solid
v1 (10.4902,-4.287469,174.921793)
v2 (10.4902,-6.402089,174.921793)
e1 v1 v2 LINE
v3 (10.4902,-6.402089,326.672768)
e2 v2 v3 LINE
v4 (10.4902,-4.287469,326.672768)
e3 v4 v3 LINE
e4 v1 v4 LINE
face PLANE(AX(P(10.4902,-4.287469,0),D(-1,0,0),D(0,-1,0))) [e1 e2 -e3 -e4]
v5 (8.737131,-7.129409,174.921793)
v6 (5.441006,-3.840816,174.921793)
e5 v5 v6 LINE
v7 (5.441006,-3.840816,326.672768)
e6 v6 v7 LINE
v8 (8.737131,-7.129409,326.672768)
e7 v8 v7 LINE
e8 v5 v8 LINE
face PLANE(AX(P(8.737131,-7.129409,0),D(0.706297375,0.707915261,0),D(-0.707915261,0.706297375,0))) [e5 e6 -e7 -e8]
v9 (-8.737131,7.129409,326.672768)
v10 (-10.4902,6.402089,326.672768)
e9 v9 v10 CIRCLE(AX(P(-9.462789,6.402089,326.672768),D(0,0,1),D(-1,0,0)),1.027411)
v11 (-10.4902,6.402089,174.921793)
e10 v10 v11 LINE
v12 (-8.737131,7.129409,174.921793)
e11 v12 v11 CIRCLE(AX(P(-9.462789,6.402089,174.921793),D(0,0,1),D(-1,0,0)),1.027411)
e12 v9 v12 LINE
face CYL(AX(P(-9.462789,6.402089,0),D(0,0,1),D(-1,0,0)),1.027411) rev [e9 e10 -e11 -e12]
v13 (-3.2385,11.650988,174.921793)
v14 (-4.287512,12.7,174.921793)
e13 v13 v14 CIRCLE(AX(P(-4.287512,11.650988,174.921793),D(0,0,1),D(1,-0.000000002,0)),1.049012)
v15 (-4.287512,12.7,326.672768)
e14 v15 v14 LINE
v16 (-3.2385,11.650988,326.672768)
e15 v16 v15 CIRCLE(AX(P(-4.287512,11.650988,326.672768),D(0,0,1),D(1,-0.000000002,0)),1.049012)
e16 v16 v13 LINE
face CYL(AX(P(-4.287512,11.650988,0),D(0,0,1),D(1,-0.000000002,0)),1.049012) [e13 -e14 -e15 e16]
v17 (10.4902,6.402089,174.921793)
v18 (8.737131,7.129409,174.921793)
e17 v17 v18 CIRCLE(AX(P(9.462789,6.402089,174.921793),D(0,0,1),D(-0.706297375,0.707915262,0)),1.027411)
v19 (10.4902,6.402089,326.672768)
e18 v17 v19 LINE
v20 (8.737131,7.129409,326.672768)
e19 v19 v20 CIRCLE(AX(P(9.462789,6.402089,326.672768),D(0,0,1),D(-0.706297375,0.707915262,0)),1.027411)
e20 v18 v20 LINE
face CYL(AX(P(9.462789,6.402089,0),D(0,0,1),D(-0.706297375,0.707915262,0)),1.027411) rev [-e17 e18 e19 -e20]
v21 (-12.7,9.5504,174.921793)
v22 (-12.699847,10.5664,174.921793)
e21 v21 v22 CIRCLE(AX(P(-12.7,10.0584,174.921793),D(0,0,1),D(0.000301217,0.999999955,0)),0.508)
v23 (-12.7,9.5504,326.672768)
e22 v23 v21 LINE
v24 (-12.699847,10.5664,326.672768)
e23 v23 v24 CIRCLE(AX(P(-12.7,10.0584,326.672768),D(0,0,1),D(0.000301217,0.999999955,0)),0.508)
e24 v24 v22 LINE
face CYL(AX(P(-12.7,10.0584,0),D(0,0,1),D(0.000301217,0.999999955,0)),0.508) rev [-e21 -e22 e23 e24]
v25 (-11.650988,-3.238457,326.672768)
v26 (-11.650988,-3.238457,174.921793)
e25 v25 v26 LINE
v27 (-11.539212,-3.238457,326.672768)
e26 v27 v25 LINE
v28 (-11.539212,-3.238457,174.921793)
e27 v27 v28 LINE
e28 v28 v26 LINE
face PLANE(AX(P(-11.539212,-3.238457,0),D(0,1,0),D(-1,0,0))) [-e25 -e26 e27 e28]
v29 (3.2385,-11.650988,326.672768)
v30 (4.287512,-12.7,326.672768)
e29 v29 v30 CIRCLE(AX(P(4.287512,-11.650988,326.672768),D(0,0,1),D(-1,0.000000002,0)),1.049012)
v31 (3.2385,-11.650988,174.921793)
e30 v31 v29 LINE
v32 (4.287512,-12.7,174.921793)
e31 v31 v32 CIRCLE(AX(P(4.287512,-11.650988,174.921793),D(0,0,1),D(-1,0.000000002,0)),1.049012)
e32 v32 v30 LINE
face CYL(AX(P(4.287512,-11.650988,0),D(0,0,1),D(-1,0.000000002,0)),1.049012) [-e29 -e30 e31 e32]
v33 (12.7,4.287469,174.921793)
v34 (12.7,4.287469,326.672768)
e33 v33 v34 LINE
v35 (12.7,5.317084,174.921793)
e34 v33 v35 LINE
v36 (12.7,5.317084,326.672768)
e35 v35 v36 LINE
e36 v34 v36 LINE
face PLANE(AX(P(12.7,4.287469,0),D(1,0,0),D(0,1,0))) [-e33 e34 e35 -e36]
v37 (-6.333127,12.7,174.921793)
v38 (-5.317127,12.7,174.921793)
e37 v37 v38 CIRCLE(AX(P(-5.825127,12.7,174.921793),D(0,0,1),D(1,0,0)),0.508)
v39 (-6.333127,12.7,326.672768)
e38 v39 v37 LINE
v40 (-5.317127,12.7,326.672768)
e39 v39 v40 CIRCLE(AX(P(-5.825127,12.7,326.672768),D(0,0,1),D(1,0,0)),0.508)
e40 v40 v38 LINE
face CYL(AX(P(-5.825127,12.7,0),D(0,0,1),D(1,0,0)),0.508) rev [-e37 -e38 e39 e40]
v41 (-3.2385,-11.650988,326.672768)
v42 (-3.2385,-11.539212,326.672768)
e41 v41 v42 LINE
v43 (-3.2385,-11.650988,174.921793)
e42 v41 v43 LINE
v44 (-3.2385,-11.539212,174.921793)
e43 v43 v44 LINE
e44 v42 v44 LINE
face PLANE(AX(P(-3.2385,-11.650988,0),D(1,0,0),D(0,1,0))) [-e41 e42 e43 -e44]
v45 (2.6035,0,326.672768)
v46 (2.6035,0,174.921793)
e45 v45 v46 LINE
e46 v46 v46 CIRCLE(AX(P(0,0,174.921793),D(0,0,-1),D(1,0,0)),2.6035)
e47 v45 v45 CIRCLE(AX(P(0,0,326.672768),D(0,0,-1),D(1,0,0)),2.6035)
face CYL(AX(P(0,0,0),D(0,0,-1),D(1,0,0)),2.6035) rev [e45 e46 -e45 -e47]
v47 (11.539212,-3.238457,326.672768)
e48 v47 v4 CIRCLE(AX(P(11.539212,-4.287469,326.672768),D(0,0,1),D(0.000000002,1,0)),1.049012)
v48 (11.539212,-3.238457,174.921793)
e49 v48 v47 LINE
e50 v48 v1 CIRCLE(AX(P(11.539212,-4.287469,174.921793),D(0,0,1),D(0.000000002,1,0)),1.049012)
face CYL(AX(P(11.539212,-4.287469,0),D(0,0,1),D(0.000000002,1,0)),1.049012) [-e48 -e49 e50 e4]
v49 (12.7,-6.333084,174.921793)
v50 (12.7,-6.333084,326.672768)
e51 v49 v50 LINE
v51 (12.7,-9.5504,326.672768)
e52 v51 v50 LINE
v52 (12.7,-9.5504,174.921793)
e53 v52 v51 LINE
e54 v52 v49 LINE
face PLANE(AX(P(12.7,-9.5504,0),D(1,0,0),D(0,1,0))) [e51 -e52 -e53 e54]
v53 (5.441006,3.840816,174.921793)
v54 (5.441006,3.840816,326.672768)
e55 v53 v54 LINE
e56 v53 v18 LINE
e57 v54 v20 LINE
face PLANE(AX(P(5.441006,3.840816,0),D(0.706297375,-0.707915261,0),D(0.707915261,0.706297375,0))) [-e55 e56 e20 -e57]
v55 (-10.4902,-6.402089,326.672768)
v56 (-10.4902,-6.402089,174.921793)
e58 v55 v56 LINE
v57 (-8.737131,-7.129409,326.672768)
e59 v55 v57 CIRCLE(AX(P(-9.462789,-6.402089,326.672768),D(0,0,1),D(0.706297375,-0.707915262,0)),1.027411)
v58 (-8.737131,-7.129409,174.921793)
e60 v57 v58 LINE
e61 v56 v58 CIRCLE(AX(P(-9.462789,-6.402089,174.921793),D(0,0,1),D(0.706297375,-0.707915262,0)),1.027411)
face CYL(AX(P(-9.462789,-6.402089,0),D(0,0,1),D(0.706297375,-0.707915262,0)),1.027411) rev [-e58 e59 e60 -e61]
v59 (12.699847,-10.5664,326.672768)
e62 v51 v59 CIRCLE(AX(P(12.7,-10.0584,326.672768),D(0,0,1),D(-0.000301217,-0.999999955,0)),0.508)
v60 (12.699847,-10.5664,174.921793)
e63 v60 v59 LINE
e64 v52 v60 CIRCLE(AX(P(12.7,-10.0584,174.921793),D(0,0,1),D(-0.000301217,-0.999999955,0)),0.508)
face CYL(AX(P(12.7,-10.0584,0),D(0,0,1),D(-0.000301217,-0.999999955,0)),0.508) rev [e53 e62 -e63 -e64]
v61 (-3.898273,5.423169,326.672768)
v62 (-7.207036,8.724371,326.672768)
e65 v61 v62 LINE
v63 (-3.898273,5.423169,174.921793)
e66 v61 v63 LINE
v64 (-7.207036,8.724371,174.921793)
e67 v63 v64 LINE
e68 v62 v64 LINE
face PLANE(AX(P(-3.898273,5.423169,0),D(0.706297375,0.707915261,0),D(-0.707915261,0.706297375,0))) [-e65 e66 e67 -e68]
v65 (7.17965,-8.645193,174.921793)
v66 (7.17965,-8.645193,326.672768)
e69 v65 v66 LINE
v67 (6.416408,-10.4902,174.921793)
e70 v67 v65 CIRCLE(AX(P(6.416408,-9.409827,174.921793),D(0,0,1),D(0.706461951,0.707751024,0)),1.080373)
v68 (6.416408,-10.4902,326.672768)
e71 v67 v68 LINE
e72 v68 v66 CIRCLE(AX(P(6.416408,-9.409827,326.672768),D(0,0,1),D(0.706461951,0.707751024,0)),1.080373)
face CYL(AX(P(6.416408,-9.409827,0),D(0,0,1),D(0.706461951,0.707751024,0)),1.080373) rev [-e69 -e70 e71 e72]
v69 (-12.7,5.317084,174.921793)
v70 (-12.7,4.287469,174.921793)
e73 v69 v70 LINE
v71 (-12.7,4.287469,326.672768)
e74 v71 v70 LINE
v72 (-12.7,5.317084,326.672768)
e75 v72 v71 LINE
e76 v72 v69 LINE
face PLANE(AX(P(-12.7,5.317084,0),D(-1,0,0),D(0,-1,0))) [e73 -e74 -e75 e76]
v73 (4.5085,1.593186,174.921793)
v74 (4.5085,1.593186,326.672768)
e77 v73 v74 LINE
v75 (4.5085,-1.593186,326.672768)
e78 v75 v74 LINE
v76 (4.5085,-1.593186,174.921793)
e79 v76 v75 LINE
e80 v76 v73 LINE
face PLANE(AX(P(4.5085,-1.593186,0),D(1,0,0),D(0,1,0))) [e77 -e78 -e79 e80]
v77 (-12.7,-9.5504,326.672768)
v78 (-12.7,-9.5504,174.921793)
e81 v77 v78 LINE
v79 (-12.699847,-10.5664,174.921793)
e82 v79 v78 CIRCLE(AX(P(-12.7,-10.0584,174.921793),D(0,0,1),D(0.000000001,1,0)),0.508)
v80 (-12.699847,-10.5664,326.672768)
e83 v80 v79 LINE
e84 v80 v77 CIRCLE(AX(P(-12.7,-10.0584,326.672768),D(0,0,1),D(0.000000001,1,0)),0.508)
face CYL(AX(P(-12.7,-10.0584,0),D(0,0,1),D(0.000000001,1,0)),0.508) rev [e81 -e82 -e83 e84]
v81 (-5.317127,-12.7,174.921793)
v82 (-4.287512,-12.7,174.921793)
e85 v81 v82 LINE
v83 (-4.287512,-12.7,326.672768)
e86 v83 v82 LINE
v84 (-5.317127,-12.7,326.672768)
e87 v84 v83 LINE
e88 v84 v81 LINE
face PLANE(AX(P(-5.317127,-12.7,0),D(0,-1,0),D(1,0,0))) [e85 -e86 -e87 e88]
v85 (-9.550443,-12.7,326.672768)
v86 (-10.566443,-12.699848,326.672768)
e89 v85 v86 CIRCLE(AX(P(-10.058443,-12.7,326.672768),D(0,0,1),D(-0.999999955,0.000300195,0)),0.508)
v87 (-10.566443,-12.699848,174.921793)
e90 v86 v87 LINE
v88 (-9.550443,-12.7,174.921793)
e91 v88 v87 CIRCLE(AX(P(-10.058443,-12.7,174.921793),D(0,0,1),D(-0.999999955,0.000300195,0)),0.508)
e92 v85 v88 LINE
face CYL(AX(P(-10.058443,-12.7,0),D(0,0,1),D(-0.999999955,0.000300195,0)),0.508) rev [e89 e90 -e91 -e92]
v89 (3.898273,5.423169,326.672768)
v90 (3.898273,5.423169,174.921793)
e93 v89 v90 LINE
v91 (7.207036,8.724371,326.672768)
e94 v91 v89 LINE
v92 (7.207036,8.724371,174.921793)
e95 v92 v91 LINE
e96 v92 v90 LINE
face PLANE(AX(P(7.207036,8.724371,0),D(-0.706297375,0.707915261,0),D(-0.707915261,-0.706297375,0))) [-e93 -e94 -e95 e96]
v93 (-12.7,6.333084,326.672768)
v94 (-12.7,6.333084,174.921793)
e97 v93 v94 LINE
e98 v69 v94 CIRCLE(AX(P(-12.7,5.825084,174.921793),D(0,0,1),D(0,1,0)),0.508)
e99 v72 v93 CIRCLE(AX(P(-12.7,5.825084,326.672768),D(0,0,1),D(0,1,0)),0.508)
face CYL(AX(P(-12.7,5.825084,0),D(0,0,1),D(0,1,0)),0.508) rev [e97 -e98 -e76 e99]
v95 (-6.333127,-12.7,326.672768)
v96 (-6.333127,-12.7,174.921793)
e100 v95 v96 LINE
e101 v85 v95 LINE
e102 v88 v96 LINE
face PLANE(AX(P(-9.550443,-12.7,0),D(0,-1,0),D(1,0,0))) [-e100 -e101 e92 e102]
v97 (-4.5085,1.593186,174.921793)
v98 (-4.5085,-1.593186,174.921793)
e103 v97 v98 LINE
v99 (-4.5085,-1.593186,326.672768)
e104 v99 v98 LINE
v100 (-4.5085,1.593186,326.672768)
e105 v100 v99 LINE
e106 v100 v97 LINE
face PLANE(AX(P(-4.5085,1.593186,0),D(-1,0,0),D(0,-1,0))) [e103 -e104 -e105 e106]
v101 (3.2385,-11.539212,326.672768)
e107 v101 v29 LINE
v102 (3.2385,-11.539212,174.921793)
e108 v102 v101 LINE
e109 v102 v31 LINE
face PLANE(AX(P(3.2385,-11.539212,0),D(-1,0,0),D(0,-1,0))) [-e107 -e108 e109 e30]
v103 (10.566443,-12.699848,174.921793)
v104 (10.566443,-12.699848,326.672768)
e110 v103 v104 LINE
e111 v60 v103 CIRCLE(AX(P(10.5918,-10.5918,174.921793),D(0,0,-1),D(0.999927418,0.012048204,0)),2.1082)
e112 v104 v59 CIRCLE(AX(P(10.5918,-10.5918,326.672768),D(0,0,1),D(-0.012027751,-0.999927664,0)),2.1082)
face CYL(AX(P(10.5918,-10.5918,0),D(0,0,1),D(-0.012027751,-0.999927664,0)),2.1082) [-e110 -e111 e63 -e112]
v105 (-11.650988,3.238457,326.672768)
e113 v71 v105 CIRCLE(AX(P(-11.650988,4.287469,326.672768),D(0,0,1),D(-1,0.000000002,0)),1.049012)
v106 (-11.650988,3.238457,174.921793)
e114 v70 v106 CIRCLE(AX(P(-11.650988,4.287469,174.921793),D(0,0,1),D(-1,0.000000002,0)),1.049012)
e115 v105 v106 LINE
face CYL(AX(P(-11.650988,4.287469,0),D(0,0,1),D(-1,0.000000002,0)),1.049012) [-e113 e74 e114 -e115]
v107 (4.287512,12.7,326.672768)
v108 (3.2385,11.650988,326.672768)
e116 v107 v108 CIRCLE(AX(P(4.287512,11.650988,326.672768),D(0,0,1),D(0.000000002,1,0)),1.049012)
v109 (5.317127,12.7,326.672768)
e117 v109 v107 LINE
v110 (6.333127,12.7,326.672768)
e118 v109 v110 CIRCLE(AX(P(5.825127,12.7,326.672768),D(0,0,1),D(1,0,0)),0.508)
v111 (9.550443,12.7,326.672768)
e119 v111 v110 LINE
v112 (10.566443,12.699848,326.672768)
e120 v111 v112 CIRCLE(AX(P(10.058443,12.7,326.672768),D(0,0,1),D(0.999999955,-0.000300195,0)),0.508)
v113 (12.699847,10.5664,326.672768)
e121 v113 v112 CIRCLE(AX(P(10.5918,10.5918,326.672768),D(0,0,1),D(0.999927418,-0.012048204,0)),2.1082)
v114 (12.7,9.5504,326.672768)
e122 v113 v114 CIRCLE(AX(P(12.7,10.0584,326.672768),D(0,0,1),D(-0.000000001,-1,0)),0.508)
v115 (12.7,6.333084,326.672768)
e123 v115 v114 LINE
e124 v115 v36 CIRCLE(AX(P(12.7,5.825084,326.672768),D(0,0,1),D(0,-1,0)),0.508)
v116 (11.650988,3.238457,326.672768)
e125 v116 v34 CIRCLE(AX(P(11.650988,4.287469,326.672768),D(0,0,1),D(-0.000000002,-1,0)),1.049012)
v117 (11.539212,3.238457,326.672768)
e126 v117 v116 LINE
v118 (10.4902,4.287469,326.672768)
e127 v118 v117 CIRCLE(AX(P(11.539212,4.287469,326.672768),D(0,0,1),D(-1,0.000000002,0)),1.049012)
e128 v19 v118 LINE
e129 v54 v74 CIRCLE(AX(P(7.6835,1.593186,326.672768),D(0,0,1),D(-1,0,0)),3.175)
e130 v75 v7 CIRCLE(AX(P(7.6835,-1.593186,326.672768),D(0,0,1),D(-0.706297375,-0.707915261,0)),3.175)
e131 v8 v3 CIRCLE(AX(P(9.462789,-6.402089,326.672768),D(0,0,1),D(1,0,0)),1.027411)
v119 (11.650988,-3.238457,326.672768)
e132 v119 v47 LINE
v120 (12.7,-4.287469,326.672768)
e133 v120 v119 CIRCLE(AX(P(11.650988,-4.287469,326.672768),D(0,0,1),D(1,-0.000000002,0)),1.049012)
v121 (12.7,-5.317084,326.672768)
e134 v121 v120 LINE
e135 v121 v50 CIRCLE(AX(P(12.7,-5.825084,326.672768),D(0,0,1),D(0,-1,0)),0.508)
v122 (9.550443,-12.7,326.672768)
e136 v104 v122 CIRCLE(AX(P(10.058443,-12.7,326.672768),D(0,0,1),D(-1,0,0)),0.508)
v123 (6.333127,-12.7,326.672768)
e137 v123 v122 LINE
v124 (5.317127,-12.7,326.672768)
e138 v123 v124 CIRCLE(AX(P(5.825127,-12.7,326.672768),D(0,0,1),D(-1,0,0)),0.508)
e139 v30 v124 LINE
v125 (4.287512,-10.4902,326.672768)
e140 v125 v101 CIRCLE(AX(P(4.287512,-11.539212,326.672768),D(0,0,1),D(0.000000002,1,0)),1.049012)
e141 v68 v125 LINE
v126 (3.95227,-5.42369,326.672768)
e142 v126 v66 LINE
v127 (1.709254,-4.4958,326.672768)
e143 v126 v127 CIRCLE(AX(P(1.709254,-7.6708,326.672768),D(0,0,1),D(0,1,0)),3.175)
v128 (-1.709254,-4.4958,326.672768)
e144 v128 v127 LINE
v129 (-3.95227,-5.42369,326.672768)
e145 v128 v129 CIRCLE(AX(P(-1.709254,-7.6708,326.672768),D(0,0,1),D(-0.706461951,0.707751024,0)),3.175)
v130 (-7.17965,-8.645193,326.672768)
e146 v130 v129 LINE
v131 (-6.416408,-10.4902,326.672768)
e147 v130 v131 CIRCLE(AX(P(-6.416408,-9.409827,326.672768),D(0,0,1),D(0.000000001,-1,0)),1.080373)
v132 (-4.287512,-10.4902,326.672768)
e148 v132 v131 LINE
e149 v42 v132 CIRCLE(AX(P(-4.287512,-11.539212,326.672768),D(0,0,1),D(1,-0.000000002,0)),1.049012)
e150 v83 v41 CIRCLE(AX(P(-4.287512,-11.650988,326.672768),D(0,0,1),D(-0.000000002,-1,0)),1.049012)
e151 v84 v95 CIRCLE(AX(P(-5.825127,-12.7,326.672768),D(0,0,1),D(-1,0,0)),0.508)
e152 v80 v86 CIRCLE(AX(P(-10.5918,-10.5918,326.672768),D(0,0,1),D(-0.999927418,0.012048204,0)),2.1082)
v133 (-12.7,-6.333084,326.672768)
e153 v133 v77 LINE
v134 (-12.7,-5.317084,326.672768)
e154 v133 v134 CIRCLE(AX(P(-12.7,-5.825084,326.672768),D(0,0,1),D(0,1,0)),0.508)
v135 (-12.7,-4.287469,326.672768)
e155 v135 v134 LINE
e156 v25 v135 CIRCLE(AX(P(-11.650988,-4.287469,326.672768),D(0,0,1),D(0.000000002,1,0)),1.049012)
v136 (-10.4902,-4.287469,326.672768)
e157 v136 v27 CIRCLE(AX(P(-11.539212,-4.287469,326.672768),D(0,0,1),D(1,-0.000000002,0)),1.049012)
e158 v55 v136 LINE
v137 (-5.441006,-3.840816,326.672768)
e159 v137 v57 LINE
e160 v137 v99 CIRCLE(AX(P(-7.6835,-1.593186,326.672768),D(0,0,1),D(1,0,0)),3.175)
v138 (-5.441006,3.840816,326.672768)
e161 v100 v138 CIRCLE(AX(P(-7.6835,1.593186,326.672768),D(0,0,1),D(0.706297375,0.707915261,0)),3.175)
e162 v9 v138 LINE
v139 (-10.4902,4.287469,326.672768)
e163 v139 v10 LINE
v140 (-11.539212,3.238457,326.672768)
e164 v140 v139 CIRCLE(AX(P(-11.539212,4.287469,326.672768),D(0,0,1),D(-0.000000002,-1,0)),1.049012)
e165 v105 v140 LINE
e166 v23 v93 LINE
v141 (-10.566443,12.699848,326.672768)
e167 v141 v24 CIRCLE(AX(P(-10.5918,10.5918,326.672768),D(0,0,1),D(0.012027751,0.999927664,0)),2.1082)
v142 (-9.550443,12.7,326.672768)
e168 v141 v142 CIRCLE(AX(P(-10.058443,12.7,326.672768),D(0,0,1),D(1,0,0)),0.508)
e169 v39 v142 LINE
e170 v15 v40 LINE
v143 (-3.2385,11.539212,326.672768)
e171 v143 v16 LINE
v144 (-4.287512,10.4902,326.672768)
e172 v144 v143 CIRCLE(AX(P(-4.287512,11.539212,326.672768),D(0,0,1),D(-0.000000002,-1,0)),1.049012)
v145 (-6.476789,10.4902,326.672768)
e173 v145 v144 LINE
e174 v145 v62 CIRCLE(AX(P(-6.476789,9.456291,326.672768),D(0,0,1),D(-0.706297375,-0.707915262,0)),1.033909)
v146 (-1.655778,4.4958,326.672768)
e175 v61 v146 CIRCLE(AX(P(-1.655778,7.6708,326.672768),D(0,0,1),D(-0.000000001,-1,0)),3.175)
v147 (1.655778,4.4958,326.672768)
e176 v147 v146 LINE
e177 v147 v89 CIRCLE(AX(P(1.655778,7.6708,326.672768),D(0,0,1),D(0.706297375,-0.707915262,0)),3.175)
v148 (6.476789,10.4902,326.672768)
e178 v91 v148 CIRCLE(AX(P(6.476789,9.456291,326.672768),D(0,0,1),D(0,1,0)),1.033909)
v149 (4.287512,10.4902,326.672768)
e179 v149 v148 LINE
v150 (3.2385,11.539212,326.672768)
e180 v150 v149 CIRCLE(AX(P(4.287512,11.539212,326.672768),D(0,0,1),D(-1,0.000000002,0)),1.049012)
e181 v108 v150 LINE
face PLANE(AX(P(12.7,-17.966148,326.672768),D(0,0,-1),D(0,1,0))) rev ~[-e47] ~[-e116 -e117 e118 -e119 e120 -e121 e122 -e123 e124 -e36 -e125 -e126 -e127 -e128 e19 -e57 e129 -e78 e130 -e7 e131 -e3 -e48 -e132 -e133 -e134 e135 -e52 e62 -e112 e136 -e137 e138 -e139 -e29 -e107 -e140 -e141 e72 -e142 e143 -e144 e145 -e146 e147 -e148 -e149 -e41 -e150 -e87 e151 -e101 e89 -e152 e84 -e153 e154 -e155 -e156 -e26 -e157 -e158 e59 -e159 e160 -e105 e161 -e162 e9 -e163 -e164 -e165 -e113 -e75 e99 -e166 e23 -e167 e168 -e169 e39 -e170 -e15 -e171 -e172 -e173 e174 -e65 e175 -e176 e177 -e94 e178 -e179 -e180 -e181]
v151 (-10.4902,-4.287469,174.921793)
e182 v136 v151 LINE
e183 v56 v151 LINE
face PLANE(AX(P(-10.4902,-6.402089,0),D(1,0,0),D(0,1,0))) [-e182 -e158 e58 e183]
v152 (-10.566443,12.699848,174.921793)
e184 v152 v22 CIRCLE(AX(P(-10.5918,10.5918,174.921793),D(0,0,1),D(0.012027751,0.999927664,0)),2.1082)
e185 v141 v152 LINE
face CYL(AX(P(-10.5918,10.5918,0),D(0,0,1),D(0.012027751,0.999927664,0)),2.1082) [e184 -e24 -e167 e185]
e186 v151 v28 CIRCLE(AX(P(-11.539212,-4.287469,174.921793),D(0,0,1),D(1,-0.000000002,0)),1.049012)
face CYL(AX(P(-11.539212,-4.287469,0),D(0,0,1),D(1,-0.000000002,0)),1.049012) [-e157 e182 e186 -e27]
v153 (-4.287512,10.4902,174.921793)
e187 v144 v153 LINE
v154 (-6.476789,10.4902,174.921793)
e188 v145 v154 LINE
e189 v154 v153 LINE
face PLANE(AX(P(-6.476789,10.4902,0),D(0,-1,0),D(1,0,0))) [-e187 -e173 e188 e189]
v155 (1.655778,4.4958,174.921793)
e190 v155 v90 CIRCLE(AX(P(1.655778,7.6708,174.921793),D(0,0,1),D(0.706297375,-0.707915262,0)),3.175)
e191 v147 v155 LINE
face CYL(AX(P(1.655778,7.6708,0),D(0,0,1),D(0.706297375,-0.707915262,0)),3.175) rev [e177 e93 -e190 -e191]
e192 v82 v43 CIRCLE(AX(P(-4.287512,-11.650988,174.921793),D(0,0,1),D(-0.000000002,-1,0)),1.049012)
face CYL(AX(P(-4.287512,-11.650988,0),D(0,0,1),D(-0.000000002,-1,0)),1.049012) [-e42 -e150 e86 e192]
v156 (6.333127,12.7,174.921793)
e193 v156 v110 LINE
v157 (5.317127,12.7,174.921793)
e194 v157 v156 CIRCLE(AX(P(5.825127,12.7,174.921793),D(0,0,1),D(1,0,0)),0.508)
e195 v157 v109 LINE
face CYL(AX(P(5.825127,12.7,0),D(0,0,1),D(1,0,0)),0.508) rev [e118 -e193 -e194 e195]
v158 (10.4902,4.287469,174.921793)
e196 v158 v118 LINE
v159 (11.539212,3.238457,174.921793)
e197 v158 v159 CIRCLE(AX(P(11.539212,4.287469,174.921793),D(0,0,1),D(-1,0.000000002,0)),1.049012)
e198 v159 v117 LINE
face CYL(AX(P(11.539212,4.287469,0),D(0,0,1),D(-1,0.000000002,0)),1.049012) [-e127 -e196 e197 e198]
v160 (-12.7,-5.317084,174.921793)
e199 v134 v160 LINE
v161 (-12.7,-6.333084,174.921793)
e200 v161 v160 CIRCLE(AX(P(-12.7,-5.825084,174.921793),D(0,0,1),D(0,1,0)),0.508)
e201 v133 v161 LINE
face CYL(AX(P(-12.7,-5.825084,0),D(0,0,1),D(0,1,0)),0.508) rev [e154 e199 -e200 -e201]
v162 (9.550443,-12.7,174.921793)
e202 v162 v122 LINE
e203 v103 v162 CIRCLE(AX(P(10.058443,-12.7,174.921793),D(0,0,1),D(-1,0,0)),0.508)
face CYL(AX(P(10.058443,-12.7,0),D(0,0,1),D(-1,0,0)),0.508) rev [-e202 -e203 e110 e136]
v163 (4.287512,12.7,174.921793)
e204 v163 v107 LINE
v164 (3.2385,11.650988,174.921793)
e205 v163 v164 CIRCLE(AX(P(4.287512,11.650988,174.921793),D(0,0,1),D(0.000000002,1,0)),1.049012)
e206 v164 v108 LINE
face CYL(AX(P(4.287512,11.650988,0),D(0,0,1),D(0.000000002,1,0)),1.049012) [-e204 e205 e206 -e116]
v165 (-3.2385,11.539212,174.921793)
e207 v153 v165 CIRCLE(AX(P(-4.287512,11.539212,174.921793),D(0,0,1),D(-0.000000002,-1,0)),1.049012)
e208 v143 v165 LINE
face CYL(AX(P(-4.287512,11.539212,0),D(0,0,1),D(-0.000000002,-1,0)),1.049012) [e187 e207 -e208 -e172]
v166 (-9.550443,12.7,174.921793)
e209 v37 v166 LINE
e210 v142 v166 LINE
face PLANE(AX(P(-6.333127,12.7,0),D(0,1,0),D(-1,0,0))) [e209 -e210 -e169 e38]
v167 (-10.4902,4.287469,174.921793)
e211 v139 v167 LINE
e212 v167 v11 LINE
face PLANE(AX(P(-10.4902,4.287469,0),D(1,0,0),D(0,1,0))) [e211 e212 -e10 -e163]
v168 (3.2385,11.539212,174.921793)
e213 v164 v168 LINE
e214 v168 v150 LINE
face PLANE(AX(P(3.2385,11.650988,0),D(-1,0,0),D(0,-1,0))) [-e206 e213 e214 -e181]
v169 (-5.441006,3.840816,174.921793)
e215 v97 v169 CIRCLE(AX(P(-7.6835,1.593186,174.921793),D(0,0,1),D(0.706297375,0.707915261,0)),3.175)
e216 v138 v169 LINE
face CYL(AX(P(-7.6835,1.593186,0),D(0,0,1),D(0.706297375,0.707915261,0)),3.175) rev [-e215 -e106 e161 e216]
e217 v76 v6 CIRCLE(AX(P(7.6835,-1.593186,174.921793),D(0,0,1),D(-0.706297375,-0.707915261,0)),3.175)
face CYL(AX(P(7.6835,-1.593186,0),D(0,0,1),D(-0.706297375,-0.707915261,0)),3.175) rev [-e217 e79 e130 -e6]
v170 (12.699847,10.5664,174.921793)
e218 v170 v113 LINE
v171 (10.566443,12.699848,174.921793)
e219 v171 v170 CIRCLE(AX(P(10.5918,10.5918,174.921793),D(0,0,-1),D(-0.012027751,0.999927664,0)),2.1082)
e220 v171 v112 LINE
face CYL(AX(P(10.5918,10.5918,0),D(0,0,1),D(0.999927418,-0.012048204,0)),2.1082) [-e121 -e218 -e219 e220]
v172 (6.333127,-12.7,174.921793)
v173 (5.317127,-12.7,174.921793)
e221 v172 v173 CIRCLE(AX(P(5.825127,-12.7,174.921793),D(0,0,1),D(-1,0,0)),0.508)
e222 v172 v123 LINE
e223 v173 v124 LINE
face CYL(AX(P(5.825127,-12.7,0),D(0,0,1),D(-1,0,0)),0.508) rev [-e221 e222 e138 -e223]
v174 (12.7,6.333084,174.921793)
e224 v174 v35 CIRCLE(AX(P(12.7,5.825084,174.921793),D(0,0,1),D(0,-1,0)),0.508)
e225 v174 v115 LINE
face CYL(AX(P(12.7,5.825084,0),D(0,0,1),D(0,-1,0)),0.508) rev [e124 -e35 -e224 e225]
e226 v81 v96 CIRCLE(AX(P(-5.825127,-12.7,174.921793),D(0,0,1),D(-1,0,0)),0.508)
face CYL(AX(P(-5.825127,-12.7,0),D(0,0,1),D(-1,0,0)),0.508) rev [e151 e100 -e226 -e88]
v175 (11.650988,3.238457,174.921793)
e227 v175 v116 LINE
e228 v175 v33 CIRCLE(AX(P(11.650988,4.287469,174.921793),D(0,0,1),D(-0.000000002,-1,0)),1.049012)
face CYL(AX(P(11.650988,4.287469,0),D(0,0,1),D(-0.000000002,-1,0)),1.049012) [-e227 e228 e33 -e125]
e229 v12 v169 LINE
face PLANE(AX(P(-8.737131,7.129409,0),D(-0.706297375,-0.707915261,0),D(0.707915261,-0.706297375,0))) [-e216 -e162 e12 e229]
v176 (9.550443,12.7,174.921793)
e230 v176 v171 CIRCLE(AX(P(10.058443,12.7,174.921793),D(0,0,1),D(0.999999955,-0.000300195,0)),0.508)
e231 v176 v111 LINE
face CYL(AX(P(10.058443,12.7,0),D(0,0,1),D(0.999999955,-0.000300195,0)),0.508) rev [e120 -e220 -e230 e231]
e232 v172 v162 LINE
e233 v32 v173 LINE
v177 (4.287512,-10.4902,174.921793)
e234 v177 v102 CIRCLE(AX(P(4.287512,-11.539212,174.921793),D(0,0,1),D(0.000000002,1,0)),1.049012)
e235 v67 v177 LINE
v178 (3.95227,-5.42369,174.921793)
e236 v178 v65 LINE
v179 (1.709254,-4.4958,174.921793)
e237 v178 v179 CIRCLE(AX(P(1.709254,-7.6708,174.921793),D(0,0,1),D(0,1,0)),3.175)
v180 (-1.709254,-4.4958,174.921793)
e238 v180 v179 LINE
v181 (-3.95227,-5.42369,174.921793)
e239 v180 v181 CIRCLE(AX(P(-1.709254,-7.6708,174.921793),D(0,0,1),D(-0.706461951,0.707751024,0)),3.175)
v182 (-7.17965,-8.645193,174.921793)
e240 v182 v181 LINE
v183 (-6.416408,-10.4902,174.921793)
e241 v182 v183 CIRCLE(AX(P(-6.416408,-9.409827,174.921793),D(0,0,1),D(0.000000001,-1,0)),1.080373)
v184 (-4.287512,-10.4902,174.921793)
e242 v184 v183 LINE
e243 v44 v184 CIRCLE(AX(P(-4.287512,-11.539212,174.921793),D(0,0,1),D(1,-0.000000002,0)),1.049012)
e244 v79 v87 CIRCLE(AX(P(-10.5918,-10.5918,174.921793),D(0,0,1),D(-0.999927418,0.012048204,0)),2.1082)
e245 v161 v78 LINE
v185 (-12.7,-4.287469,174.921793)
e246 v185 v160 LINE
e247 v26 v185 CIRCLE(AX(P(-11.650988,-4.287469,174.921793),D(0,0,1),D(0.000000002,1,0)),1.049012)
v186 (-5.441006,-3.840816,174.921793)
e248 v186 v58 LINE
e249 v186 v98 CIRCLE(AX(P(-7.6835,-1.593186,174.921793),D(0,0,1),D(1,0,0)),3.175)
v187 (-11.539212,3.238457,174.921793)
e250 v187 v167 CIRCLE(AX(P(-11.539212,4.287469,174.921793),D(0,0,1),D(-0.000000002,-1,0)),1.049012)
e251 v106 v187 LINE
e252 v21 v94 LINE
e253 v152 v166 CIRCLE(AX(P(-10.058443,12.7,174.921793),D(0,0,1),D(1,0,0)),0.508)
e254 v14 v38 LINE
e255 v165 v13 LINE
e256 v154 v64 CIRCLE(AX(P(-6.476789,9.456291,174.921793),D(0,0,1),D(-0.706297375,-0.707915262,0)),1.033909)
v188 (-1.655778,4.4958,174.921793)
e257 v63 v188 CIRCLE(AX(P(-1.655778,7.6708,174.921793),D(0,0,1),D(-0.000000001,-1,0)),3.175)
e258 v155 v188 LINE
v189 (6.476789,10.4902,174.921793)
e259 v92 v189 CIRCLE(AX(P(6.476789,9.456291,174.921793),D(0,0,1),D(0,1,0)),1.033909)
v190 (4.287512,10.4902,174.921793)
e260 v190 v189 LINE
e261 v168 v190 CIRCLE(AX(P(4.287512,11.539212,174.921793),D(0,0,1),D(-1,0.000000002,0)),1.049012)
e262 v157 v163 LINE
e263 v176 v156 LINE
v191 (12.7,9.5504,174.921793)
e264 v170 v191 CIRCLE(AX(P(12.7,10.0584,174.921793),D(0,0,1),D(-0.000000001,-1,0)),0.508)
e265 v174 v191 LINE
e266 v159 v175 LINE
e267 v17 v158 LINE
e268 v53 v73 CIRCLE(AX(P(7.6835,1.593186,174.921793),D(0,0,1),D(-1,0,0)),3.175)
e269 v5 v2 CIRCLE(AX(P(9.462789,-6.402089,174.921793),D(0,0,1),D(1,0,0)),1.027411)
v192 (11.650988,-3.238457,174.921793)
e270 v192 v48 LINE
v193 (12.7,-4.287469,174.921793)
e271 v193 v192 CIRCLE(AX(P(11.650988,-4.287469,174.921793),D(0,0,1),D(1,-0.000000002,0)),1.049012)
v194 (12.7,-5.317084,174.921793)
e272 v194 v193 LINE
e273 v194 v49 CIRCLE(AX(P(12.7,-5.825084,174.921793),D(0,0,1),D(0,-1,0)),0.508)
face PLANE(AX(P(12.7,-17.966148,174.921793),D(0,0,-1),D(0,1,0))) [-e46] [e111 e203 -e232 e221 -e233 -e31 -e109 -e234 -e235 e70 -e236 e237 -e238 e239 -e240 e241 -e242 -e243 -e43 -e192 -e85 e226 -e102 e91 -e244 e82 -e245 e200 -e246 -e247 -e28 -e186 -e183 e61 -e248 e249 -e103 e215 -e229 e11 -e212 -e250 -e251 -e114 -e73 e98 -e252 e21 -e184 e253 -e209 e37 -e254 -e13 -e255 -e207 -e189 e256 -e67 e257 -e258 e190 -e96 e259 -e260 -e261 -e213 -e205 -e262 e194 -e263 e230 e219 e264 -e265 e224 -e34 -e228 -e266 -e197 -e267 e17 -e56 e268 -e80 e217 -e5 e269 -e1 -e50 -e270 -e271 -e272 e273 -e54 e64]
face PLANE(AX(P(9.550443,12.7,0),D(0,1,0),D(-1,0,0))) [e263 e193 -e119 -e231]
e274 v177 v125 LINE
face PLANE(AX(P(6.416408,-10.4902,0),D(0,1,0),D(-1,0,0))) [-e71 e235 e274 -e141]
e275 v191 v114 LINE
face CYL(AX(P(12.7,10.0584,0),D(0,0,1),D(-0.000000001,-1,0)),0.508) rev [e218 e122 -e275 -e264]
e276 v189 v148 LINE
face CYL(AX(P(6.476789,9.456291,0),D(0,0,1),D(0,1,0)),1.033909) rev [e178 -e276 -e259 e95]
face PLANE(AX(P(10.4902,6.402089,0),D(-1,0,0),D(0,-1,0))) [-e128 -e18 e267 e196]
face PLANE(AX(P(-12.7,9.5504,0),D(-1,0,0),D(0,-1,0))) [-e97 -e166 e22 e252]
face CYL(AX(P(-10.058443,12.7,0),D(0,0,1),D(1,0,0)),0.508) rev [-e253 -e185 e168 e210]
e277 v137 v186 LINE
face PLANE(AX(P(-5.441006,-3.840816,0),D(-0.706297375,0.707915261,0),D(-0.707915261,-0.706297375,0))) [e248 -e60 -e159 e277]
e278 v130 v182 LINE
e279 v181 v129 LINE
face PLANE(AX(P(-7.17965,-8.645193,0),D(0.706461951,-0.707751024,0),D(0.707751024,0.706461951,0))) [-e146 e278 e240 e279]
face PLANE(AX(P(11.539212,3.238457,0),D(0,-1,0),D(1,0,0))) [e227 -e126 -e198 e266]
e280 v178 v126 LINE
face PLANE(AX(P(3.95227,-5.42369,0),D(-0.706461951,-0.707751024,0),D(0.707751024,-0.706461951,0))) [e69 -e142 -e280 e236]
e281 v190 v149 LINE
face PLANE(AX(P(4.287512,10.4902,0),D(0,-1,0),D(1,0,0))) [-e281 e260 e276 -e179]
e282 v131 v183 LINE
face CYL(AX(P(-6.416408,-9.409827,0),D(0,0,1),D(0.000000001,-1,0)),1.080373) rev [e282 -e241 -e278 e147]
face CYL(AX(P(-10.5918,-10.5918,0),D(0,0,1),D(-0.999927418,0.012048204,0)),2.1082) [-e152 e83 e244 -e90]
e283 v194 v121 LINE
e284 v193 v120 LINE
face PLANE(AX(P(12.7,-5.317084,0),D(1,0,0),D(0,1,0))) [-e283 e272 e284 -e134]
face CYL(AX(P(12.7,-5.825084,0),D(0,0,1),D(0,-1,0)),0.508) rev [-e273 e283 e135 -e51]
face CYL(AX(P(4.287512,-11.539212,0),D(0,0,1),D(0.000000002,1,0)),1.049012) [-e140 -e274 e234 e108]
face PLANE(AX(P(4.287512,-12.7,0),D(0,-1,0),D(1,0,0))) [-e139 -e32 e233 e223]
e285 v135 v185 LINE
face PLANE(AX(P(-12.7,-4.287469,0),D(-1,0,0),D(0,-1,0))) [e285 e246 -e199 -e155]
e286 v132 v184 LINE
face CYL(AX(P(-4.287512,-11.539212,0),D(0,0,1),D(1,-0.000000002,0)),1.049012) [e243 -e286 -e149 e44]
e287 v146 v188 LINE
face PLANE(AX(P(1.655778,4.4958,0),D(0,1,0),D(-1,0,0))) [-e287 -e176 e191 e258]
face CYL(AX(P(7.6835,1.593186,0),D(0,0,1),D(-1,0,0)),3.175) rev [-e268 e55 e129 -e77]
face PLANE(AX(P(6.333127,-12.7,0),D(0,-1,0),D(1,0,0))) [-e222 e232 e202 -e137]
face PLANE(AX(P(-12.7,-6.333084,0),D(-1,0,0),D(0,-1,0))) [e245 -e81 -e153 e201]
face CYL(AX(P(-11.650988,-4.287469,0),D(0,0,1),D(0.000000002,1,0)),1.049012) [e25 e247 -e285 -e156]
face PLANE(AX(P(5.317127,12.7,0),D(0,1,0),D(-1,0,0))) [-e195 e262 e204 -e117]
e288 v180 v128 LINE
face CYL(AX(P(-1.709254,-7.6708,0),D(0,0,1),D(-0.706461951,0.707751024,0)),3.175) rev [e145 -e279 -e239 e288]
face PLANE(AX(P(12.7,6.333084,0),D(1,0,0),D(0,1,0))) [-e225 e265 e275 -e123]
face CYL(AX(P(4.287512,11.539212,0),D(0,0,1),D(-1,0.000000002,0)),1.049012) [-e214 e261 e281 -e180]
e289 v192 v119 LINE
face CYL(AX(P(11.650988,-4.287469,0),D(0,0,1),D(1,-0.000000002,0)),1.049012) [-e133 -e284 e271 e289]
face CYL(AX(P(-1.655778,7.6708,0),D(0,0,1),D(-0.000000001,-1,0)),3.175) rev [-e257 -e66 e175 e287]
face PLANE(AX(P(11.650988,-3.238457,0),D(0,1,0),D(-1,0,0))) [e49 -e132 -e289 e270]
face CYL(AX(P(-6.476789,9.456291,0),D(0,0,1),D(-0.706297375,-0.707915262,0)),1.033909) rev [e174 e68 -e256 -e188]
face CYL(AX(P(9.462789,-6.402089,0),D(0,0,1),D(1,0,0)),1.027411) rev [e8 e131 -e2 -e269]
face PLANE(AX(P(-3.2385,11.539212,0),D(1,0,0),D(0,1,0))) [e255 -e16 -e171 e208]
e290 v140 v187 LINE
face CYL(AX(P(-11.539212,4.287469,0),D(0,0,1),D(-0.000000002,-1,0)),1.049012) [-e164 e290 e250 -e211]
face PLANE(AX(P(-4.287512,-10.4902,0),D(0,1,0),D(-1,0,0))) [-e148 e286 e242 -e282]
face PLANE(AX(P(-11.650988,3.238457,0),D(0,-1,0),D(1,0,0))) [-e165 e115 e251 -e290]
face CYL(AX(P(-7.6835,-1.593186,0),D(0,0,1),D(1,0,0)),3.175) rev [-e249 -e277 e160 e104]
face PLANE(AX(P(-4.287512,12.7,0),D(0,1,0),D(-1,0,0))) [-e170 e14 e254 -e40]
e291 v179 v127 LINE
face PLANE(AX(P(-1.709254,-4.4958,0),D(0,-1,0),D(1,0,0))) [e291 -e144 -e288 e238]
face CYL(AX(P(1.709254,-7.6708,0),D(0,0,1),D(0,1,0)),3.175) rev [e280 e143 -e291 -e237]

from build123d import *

# Parameters (mm, degrees)
SKETCH1_R           = 2.6035
BOSS_EXTRUDE1_DEPTH = 914.4
SKETCH2_W           = 591.784504761
SKETCH2_H           = 34.760821459
SKETCH2_W_2         = 1099.97900941
SKETCH2_H_2         = 36.169365112
CUT_EXTRUDE1_DEPTH  = 27.432


with BuildPart() as part:
    # Sketch1 → Boss-Extrude1 (new body, symmetric)
    with BuildSketch(Plane.XY):
        with BuildLine():
            Line((-7.179650497, -8.645192506), (-3.952270251, -5.423690499))
            ThreePointArc((-3.952270251, -5.423690499), (-2.922936451, -4.736929036), (-1.709253557, -4.4958))
            Line((-1.709253557, -4.4958), (1.709253557, -4.4958))
            ThreePointArc((1.709253557, -4.4958), (2.922936451, -4.736929036), (3.952270251, -5.423690499))
            Line((3.952270251, -5.423690499), (7.179650497, -8.645192506))
            ThreePointArc((7.179650497, -8.645192506), (7.41473083, -9.822813117), (6.416408329, -10.4902))
            Line((6.416408329, -10.4902), (4.287512407, -10.4902))
            ThreePointArc((4.287512407, -10.4902), (3.54574862, -10.79744862), (3.2385, -11.539212407))
            Line((3.2385, -11.539212407), (3.2385, -11.650987593))
            ThreePointArc((3.2385, -11.650987593), (3.54574862, -12.39275138), (4.287512407, -12.7))
            Line((4.287512407, -12.7), (5.317126718, -12.7))
            ThreePointArc((5.317126718, -12.7), (5.825126718, -12.192), (6.333126718, -12.7))
            Line((6.333126718, -12.7), (9.550443118, -12.7))
            ThreePointArc((9.550443118, -12.7), (10.058366869, -12.192000006), (10.566443095, -12.699847501))
            ThreePointArc((10.566443095, -12.699847501), (12.082537762, -12.08250727), (12.699846982, -10.566399977))
            ThreePointArc((12.699846982, -10.566399977), (12.192000006, -10.058323491), (12.7, -9.5504))
            Line((12.7, -9.5504), (12.7, -6.3330836))
            ThreePointArc((12.7, -6.3330836), (12.192, -5.8250836), (12.7, -5.3170836))
            Line((12.7, -5.3170836), (12.7, -4.287469289))
            ThreePointArc((12.7, -4.287469289), (12.39275138, -3.545705502), (11.650987593, -3.238456882))
            Line((11.650987593, -3.238456882), (11.539212407, -3.238456882))
            ThreePointArc((11.539212407, -3.238456882), (10.79744862, -3.545705502), (10.4902, -4.287469289))
            Line((10.4902, -4.287469289), (10.4902, -6.402089023))
            ThreePointArc((10.4902, -6.402089023), (9.856505071, -7.351067942), (8.737131347, -7.129408934))
            Line((8.737131347, -7.129408934), (5.441005833, -3.840816462))
            ThreePointArc((5.441005833, -3.840816462), (4.750877967, -2.809883091), (4.5085, -1.593185507))
            Line((4.5085, -1.593185507), (4.5085, 1.593185507))
            ThreePointArc((4.5085, 1.593185507), (4.750877967, 2.809883091), (5.441005833, 3.840816462))
            Line((5.441005833, 3.840816462), (8.737131347, 7.129408934))
            ThreePointArc((8.737131347, 7.129408934), (9.856505071, 7.351067942), (10.4902, 6.402089023))
            Line((10.4902, 6.402089023), (10.4902, 4.287469289))
            ThreePointArc((10.4902, 4.287469289), (10.79744862, 3.545705502), (11.539212407, 3.238456882))
            Line((11.539212407, 3.238456882), (11.650987593, 3.238456882))
            ThreePointArc((11.650987593, 3.238456882), (12.39275138, 3.545705502), (12.7, 4.287469289))
            Line((12.7, 4.287469289), (12.7, 5.3170836))
            ThreePointArc((12.7, 5.3170836), (12.192, 5.8250836), (12.7, 6.3330836))
            Line((12.7, 6.3330836), (12.7, 9.5504))
            ThreePointArc((12.7, 9.5504), (12.192000006, 10.058323491), (12.699846982, 10.566399977))
            ThreePointArc((12.699846982, 10.566399977), (12.082537762, 12.08250727), (10.566443095, 12.699847501))
            ThreePointArc((10.566443095, 12.699847501), (10.058366869, 12.192000006), (9.550443118, 12.7))
            Line((9.550443118, 12.7), (6.333126718, 12.7))
            ThreePointArc((6.333126718, 12.7), (5.825126718, 12.192), (5.317126718, 12.7))
            Line((5.317126718, 12.7), (4.287512407, 12.7))
            ThreePointArc((4.287512407, 12.7), (3.54574862, 12.39275138), (3.2385, 11.650987593))
            Line((3.2385, 11.650987593), (3.2385, 11.539212407))
            ThreePointArc((3.2385, 11.539212407), (3.54574862, 10.79744862), (4.287512407, 10.4902))
            Line((4.287512407, 10.4902), (6.476788598, 10.4902))
            ThreePointArc((6.476788598, 10.4902), (7.432222385, 9.85140422), (7.207036008, 8.724370562))
            Line((7.207036008, 8.724370562), (3.898272566, 5.423169045))
            ThreePointArc((3.898272566, 5.423169045), (2.869120213, 4.736787962), (1.655778399, 4.4958))
            Line((1.655778399, 4.4958), (-1.655778399, 4.4958))
            ThreePointArc((-1.655778399, 4.4958), (-2.869120213, 4.736787962), (-3.898272566, 5.423169045))
            Line((-3.898272566, 5.423169045), (-7.207036008, 8.724370562))
            ThreePointArc((-7.207036008, 8.724370562), (-7.432222385, 9.85140422), (-6.476788598, 10.4902))
            Line((-6.476788598, 10.4902), (-4.287512407, 10.4902))
            ThreePointArc((-4.287512407, 10.4902), (-3.54574862, 10.79744862), (-3.2385, 11.539212407))
            Line((-3.2385, 11.539212407), (-3.2385, 11.650987593))
            ThreePointArc((-3.2385, 11.650987593), (-3.54574862, 12.39275138), (-4.287512407, 12.7))
            Line((-4.287512407, 12.7), (-5.317126718, 12.7))
            ThreePointArc((-5.317126718, 12.7), (-5.825126718, 12.192), (-6.333126718, 12.7))
            Line((-6.333126718, 12.7), (-9.550443118, 12.7))
            ThreePointArc((-9.550443118, 12.7), (-10.058366869, 12.192000006), (-10.566443095, 12.699847501))
            ThreePointArc((-10.566443095, 12.699847501), (-12.082537762, 12.08250727), (-12.699846982, 10.566399977))
            ThreePointArc((-12.699846982, 10.566399977), (-12.192000006, 10.058323491), (-12.7, 9.5504))
            Line((-12.7, 9.5504), (-12.7, 6.3330836))
            ThreePointArc((-12.7, 6.3330836), (-12.192, 5.8250836), (-12.7, 5.3170836))
            Line((-12.7, 5.3170836), (-12.7, 4.287469289))
            ThreePointArc((-12.7, 4.287469289), (-12.39275138, 3.545705502), (-11.650987593, 3.238456882))
            Line((-11.650987593, 3.238456882), (-11.539212407, 3.238456882))
            ThreePointArc((-11.539212407, 3.238456882), (-10.79744862, 3.545705502), (-10.4902, 4.287469289))
            Line((-10.4902, 4.287469289), (-10.4902, 6.402089023))
            ThreePointArc((-10.4902, 6.402089023), (-9.856505071, 7.351067942), (-8.737131347, 7.129408934))
            Line((-8.737131347, 7.129408934), (-5.441005833, 3.840816462))
            ThreePointArc((-5.441005833, 3.840816462), (-4.750877967, 2.809883091), (-4.5085, 1.593185507))
            Line((-4.5085, 1.593185507), (-4.5085, -1.593185507))
            ThreePointArc((-4.5085, -1.593185507), (-4.750877967, -2.809883091), (-5.441005833, -3.840816462))
            Line((-5.441005833, -3.840816462), (-8.737131347, -7.129408934))
            ThreePointArc((-8.737131347, -7.129408934), (-9.856505071, -7.351067942), (-10.4902, -6.402089023))
            Line((-10.4902, -6.402089023), (-10.4902, -4.287469289))
            ThreePointArc((-10.4902, -4.287469289), (-10.79744862, -3.545705502), (-11.539212407, -3.238456882))
            Line((-11.539212407, -3.238456882), (-11.650987593, -3.238456882))
            ThreePointArc((-11.650987593, -3.238456882), (-12.39275138, -3.545705502), (-12.7, -4.287469289))
            Line((-12.7, -4.287469289), (-12.7, -5.3170836))
            ThreePointArc((-12.7, -5.3170836), (-12.192, -5.8250836), (-12.7, -6.3330836))
            Line((-12.7, -6.3330836), (-12.7, -9.5504))
            ThreePointArc((-12.7, -9.5504), (-12.192000006, -10.058323491), (-12.699846982, -10.566399977))
            ThreePointArc((-12.699846982, -10.566399977), (-12.082537762, -12.08250727), (-10.566443095, -12.699847501))
            ThreePointArc((-10.566443095, -12.699847501), (-10.058366869, -12.192000006), (-9.550443118, -12.7))
            Line((-9.550443118, -12.7), (-6.333126718, -12.7))
            ThreePointArc((-6.333126718, -12.7), (-5.825126718, -12.192), (-5.317126718, -12.7))
            Line((-5.317126718, -12.7), (-4.287512407, -12.7))
            ThreePointArc((-4.287512407, -12.7), (-3.54574862, -12.39275138), (-3.2385, -11.650987593))
            Line((-3.2385, -11.650987593), (-3.2385, -11.539212407))
            ThreePointArc((-3.2385, -11.539212407), (-3.54574862, -10.79744862), (-4.287512407, -10.4902))
            Line((-4.287512407, -10.4902), (-6.416408329, -10.4902))
            ThreePointArc((-6.416408329, -10.4902), (-7.41473083, -9.822813117), (-7.179650497, -8.645192506))
        make_face()
        Circle(SKETCH1_R, mode=Mode.SUBTRACT)
    extrude(amount=BOSS_EXTRUDE1_DEPTH, both=True)

    # Sketch2 → Cut-Extrude1 (cut)
    with BuildSketch(Plane(origin=(12.7, 0, 0), x_dir=(0, 0, -1), z_dir=(1, 0, 0))):
        with Locations((-622.565020226, -0.58573738)):
            Rectangle(SKETCH2_W, SKETCH2_H)
        with Locations((375.067711741, 0.118534447)):
            Rectangle(SKETCH2_W_2, SKETCH2_H_2)
    extrude(amount=-CUT_EXTRUDE1_DEPTH, mode=Mode.SUBTRACT)


solid = part.part
